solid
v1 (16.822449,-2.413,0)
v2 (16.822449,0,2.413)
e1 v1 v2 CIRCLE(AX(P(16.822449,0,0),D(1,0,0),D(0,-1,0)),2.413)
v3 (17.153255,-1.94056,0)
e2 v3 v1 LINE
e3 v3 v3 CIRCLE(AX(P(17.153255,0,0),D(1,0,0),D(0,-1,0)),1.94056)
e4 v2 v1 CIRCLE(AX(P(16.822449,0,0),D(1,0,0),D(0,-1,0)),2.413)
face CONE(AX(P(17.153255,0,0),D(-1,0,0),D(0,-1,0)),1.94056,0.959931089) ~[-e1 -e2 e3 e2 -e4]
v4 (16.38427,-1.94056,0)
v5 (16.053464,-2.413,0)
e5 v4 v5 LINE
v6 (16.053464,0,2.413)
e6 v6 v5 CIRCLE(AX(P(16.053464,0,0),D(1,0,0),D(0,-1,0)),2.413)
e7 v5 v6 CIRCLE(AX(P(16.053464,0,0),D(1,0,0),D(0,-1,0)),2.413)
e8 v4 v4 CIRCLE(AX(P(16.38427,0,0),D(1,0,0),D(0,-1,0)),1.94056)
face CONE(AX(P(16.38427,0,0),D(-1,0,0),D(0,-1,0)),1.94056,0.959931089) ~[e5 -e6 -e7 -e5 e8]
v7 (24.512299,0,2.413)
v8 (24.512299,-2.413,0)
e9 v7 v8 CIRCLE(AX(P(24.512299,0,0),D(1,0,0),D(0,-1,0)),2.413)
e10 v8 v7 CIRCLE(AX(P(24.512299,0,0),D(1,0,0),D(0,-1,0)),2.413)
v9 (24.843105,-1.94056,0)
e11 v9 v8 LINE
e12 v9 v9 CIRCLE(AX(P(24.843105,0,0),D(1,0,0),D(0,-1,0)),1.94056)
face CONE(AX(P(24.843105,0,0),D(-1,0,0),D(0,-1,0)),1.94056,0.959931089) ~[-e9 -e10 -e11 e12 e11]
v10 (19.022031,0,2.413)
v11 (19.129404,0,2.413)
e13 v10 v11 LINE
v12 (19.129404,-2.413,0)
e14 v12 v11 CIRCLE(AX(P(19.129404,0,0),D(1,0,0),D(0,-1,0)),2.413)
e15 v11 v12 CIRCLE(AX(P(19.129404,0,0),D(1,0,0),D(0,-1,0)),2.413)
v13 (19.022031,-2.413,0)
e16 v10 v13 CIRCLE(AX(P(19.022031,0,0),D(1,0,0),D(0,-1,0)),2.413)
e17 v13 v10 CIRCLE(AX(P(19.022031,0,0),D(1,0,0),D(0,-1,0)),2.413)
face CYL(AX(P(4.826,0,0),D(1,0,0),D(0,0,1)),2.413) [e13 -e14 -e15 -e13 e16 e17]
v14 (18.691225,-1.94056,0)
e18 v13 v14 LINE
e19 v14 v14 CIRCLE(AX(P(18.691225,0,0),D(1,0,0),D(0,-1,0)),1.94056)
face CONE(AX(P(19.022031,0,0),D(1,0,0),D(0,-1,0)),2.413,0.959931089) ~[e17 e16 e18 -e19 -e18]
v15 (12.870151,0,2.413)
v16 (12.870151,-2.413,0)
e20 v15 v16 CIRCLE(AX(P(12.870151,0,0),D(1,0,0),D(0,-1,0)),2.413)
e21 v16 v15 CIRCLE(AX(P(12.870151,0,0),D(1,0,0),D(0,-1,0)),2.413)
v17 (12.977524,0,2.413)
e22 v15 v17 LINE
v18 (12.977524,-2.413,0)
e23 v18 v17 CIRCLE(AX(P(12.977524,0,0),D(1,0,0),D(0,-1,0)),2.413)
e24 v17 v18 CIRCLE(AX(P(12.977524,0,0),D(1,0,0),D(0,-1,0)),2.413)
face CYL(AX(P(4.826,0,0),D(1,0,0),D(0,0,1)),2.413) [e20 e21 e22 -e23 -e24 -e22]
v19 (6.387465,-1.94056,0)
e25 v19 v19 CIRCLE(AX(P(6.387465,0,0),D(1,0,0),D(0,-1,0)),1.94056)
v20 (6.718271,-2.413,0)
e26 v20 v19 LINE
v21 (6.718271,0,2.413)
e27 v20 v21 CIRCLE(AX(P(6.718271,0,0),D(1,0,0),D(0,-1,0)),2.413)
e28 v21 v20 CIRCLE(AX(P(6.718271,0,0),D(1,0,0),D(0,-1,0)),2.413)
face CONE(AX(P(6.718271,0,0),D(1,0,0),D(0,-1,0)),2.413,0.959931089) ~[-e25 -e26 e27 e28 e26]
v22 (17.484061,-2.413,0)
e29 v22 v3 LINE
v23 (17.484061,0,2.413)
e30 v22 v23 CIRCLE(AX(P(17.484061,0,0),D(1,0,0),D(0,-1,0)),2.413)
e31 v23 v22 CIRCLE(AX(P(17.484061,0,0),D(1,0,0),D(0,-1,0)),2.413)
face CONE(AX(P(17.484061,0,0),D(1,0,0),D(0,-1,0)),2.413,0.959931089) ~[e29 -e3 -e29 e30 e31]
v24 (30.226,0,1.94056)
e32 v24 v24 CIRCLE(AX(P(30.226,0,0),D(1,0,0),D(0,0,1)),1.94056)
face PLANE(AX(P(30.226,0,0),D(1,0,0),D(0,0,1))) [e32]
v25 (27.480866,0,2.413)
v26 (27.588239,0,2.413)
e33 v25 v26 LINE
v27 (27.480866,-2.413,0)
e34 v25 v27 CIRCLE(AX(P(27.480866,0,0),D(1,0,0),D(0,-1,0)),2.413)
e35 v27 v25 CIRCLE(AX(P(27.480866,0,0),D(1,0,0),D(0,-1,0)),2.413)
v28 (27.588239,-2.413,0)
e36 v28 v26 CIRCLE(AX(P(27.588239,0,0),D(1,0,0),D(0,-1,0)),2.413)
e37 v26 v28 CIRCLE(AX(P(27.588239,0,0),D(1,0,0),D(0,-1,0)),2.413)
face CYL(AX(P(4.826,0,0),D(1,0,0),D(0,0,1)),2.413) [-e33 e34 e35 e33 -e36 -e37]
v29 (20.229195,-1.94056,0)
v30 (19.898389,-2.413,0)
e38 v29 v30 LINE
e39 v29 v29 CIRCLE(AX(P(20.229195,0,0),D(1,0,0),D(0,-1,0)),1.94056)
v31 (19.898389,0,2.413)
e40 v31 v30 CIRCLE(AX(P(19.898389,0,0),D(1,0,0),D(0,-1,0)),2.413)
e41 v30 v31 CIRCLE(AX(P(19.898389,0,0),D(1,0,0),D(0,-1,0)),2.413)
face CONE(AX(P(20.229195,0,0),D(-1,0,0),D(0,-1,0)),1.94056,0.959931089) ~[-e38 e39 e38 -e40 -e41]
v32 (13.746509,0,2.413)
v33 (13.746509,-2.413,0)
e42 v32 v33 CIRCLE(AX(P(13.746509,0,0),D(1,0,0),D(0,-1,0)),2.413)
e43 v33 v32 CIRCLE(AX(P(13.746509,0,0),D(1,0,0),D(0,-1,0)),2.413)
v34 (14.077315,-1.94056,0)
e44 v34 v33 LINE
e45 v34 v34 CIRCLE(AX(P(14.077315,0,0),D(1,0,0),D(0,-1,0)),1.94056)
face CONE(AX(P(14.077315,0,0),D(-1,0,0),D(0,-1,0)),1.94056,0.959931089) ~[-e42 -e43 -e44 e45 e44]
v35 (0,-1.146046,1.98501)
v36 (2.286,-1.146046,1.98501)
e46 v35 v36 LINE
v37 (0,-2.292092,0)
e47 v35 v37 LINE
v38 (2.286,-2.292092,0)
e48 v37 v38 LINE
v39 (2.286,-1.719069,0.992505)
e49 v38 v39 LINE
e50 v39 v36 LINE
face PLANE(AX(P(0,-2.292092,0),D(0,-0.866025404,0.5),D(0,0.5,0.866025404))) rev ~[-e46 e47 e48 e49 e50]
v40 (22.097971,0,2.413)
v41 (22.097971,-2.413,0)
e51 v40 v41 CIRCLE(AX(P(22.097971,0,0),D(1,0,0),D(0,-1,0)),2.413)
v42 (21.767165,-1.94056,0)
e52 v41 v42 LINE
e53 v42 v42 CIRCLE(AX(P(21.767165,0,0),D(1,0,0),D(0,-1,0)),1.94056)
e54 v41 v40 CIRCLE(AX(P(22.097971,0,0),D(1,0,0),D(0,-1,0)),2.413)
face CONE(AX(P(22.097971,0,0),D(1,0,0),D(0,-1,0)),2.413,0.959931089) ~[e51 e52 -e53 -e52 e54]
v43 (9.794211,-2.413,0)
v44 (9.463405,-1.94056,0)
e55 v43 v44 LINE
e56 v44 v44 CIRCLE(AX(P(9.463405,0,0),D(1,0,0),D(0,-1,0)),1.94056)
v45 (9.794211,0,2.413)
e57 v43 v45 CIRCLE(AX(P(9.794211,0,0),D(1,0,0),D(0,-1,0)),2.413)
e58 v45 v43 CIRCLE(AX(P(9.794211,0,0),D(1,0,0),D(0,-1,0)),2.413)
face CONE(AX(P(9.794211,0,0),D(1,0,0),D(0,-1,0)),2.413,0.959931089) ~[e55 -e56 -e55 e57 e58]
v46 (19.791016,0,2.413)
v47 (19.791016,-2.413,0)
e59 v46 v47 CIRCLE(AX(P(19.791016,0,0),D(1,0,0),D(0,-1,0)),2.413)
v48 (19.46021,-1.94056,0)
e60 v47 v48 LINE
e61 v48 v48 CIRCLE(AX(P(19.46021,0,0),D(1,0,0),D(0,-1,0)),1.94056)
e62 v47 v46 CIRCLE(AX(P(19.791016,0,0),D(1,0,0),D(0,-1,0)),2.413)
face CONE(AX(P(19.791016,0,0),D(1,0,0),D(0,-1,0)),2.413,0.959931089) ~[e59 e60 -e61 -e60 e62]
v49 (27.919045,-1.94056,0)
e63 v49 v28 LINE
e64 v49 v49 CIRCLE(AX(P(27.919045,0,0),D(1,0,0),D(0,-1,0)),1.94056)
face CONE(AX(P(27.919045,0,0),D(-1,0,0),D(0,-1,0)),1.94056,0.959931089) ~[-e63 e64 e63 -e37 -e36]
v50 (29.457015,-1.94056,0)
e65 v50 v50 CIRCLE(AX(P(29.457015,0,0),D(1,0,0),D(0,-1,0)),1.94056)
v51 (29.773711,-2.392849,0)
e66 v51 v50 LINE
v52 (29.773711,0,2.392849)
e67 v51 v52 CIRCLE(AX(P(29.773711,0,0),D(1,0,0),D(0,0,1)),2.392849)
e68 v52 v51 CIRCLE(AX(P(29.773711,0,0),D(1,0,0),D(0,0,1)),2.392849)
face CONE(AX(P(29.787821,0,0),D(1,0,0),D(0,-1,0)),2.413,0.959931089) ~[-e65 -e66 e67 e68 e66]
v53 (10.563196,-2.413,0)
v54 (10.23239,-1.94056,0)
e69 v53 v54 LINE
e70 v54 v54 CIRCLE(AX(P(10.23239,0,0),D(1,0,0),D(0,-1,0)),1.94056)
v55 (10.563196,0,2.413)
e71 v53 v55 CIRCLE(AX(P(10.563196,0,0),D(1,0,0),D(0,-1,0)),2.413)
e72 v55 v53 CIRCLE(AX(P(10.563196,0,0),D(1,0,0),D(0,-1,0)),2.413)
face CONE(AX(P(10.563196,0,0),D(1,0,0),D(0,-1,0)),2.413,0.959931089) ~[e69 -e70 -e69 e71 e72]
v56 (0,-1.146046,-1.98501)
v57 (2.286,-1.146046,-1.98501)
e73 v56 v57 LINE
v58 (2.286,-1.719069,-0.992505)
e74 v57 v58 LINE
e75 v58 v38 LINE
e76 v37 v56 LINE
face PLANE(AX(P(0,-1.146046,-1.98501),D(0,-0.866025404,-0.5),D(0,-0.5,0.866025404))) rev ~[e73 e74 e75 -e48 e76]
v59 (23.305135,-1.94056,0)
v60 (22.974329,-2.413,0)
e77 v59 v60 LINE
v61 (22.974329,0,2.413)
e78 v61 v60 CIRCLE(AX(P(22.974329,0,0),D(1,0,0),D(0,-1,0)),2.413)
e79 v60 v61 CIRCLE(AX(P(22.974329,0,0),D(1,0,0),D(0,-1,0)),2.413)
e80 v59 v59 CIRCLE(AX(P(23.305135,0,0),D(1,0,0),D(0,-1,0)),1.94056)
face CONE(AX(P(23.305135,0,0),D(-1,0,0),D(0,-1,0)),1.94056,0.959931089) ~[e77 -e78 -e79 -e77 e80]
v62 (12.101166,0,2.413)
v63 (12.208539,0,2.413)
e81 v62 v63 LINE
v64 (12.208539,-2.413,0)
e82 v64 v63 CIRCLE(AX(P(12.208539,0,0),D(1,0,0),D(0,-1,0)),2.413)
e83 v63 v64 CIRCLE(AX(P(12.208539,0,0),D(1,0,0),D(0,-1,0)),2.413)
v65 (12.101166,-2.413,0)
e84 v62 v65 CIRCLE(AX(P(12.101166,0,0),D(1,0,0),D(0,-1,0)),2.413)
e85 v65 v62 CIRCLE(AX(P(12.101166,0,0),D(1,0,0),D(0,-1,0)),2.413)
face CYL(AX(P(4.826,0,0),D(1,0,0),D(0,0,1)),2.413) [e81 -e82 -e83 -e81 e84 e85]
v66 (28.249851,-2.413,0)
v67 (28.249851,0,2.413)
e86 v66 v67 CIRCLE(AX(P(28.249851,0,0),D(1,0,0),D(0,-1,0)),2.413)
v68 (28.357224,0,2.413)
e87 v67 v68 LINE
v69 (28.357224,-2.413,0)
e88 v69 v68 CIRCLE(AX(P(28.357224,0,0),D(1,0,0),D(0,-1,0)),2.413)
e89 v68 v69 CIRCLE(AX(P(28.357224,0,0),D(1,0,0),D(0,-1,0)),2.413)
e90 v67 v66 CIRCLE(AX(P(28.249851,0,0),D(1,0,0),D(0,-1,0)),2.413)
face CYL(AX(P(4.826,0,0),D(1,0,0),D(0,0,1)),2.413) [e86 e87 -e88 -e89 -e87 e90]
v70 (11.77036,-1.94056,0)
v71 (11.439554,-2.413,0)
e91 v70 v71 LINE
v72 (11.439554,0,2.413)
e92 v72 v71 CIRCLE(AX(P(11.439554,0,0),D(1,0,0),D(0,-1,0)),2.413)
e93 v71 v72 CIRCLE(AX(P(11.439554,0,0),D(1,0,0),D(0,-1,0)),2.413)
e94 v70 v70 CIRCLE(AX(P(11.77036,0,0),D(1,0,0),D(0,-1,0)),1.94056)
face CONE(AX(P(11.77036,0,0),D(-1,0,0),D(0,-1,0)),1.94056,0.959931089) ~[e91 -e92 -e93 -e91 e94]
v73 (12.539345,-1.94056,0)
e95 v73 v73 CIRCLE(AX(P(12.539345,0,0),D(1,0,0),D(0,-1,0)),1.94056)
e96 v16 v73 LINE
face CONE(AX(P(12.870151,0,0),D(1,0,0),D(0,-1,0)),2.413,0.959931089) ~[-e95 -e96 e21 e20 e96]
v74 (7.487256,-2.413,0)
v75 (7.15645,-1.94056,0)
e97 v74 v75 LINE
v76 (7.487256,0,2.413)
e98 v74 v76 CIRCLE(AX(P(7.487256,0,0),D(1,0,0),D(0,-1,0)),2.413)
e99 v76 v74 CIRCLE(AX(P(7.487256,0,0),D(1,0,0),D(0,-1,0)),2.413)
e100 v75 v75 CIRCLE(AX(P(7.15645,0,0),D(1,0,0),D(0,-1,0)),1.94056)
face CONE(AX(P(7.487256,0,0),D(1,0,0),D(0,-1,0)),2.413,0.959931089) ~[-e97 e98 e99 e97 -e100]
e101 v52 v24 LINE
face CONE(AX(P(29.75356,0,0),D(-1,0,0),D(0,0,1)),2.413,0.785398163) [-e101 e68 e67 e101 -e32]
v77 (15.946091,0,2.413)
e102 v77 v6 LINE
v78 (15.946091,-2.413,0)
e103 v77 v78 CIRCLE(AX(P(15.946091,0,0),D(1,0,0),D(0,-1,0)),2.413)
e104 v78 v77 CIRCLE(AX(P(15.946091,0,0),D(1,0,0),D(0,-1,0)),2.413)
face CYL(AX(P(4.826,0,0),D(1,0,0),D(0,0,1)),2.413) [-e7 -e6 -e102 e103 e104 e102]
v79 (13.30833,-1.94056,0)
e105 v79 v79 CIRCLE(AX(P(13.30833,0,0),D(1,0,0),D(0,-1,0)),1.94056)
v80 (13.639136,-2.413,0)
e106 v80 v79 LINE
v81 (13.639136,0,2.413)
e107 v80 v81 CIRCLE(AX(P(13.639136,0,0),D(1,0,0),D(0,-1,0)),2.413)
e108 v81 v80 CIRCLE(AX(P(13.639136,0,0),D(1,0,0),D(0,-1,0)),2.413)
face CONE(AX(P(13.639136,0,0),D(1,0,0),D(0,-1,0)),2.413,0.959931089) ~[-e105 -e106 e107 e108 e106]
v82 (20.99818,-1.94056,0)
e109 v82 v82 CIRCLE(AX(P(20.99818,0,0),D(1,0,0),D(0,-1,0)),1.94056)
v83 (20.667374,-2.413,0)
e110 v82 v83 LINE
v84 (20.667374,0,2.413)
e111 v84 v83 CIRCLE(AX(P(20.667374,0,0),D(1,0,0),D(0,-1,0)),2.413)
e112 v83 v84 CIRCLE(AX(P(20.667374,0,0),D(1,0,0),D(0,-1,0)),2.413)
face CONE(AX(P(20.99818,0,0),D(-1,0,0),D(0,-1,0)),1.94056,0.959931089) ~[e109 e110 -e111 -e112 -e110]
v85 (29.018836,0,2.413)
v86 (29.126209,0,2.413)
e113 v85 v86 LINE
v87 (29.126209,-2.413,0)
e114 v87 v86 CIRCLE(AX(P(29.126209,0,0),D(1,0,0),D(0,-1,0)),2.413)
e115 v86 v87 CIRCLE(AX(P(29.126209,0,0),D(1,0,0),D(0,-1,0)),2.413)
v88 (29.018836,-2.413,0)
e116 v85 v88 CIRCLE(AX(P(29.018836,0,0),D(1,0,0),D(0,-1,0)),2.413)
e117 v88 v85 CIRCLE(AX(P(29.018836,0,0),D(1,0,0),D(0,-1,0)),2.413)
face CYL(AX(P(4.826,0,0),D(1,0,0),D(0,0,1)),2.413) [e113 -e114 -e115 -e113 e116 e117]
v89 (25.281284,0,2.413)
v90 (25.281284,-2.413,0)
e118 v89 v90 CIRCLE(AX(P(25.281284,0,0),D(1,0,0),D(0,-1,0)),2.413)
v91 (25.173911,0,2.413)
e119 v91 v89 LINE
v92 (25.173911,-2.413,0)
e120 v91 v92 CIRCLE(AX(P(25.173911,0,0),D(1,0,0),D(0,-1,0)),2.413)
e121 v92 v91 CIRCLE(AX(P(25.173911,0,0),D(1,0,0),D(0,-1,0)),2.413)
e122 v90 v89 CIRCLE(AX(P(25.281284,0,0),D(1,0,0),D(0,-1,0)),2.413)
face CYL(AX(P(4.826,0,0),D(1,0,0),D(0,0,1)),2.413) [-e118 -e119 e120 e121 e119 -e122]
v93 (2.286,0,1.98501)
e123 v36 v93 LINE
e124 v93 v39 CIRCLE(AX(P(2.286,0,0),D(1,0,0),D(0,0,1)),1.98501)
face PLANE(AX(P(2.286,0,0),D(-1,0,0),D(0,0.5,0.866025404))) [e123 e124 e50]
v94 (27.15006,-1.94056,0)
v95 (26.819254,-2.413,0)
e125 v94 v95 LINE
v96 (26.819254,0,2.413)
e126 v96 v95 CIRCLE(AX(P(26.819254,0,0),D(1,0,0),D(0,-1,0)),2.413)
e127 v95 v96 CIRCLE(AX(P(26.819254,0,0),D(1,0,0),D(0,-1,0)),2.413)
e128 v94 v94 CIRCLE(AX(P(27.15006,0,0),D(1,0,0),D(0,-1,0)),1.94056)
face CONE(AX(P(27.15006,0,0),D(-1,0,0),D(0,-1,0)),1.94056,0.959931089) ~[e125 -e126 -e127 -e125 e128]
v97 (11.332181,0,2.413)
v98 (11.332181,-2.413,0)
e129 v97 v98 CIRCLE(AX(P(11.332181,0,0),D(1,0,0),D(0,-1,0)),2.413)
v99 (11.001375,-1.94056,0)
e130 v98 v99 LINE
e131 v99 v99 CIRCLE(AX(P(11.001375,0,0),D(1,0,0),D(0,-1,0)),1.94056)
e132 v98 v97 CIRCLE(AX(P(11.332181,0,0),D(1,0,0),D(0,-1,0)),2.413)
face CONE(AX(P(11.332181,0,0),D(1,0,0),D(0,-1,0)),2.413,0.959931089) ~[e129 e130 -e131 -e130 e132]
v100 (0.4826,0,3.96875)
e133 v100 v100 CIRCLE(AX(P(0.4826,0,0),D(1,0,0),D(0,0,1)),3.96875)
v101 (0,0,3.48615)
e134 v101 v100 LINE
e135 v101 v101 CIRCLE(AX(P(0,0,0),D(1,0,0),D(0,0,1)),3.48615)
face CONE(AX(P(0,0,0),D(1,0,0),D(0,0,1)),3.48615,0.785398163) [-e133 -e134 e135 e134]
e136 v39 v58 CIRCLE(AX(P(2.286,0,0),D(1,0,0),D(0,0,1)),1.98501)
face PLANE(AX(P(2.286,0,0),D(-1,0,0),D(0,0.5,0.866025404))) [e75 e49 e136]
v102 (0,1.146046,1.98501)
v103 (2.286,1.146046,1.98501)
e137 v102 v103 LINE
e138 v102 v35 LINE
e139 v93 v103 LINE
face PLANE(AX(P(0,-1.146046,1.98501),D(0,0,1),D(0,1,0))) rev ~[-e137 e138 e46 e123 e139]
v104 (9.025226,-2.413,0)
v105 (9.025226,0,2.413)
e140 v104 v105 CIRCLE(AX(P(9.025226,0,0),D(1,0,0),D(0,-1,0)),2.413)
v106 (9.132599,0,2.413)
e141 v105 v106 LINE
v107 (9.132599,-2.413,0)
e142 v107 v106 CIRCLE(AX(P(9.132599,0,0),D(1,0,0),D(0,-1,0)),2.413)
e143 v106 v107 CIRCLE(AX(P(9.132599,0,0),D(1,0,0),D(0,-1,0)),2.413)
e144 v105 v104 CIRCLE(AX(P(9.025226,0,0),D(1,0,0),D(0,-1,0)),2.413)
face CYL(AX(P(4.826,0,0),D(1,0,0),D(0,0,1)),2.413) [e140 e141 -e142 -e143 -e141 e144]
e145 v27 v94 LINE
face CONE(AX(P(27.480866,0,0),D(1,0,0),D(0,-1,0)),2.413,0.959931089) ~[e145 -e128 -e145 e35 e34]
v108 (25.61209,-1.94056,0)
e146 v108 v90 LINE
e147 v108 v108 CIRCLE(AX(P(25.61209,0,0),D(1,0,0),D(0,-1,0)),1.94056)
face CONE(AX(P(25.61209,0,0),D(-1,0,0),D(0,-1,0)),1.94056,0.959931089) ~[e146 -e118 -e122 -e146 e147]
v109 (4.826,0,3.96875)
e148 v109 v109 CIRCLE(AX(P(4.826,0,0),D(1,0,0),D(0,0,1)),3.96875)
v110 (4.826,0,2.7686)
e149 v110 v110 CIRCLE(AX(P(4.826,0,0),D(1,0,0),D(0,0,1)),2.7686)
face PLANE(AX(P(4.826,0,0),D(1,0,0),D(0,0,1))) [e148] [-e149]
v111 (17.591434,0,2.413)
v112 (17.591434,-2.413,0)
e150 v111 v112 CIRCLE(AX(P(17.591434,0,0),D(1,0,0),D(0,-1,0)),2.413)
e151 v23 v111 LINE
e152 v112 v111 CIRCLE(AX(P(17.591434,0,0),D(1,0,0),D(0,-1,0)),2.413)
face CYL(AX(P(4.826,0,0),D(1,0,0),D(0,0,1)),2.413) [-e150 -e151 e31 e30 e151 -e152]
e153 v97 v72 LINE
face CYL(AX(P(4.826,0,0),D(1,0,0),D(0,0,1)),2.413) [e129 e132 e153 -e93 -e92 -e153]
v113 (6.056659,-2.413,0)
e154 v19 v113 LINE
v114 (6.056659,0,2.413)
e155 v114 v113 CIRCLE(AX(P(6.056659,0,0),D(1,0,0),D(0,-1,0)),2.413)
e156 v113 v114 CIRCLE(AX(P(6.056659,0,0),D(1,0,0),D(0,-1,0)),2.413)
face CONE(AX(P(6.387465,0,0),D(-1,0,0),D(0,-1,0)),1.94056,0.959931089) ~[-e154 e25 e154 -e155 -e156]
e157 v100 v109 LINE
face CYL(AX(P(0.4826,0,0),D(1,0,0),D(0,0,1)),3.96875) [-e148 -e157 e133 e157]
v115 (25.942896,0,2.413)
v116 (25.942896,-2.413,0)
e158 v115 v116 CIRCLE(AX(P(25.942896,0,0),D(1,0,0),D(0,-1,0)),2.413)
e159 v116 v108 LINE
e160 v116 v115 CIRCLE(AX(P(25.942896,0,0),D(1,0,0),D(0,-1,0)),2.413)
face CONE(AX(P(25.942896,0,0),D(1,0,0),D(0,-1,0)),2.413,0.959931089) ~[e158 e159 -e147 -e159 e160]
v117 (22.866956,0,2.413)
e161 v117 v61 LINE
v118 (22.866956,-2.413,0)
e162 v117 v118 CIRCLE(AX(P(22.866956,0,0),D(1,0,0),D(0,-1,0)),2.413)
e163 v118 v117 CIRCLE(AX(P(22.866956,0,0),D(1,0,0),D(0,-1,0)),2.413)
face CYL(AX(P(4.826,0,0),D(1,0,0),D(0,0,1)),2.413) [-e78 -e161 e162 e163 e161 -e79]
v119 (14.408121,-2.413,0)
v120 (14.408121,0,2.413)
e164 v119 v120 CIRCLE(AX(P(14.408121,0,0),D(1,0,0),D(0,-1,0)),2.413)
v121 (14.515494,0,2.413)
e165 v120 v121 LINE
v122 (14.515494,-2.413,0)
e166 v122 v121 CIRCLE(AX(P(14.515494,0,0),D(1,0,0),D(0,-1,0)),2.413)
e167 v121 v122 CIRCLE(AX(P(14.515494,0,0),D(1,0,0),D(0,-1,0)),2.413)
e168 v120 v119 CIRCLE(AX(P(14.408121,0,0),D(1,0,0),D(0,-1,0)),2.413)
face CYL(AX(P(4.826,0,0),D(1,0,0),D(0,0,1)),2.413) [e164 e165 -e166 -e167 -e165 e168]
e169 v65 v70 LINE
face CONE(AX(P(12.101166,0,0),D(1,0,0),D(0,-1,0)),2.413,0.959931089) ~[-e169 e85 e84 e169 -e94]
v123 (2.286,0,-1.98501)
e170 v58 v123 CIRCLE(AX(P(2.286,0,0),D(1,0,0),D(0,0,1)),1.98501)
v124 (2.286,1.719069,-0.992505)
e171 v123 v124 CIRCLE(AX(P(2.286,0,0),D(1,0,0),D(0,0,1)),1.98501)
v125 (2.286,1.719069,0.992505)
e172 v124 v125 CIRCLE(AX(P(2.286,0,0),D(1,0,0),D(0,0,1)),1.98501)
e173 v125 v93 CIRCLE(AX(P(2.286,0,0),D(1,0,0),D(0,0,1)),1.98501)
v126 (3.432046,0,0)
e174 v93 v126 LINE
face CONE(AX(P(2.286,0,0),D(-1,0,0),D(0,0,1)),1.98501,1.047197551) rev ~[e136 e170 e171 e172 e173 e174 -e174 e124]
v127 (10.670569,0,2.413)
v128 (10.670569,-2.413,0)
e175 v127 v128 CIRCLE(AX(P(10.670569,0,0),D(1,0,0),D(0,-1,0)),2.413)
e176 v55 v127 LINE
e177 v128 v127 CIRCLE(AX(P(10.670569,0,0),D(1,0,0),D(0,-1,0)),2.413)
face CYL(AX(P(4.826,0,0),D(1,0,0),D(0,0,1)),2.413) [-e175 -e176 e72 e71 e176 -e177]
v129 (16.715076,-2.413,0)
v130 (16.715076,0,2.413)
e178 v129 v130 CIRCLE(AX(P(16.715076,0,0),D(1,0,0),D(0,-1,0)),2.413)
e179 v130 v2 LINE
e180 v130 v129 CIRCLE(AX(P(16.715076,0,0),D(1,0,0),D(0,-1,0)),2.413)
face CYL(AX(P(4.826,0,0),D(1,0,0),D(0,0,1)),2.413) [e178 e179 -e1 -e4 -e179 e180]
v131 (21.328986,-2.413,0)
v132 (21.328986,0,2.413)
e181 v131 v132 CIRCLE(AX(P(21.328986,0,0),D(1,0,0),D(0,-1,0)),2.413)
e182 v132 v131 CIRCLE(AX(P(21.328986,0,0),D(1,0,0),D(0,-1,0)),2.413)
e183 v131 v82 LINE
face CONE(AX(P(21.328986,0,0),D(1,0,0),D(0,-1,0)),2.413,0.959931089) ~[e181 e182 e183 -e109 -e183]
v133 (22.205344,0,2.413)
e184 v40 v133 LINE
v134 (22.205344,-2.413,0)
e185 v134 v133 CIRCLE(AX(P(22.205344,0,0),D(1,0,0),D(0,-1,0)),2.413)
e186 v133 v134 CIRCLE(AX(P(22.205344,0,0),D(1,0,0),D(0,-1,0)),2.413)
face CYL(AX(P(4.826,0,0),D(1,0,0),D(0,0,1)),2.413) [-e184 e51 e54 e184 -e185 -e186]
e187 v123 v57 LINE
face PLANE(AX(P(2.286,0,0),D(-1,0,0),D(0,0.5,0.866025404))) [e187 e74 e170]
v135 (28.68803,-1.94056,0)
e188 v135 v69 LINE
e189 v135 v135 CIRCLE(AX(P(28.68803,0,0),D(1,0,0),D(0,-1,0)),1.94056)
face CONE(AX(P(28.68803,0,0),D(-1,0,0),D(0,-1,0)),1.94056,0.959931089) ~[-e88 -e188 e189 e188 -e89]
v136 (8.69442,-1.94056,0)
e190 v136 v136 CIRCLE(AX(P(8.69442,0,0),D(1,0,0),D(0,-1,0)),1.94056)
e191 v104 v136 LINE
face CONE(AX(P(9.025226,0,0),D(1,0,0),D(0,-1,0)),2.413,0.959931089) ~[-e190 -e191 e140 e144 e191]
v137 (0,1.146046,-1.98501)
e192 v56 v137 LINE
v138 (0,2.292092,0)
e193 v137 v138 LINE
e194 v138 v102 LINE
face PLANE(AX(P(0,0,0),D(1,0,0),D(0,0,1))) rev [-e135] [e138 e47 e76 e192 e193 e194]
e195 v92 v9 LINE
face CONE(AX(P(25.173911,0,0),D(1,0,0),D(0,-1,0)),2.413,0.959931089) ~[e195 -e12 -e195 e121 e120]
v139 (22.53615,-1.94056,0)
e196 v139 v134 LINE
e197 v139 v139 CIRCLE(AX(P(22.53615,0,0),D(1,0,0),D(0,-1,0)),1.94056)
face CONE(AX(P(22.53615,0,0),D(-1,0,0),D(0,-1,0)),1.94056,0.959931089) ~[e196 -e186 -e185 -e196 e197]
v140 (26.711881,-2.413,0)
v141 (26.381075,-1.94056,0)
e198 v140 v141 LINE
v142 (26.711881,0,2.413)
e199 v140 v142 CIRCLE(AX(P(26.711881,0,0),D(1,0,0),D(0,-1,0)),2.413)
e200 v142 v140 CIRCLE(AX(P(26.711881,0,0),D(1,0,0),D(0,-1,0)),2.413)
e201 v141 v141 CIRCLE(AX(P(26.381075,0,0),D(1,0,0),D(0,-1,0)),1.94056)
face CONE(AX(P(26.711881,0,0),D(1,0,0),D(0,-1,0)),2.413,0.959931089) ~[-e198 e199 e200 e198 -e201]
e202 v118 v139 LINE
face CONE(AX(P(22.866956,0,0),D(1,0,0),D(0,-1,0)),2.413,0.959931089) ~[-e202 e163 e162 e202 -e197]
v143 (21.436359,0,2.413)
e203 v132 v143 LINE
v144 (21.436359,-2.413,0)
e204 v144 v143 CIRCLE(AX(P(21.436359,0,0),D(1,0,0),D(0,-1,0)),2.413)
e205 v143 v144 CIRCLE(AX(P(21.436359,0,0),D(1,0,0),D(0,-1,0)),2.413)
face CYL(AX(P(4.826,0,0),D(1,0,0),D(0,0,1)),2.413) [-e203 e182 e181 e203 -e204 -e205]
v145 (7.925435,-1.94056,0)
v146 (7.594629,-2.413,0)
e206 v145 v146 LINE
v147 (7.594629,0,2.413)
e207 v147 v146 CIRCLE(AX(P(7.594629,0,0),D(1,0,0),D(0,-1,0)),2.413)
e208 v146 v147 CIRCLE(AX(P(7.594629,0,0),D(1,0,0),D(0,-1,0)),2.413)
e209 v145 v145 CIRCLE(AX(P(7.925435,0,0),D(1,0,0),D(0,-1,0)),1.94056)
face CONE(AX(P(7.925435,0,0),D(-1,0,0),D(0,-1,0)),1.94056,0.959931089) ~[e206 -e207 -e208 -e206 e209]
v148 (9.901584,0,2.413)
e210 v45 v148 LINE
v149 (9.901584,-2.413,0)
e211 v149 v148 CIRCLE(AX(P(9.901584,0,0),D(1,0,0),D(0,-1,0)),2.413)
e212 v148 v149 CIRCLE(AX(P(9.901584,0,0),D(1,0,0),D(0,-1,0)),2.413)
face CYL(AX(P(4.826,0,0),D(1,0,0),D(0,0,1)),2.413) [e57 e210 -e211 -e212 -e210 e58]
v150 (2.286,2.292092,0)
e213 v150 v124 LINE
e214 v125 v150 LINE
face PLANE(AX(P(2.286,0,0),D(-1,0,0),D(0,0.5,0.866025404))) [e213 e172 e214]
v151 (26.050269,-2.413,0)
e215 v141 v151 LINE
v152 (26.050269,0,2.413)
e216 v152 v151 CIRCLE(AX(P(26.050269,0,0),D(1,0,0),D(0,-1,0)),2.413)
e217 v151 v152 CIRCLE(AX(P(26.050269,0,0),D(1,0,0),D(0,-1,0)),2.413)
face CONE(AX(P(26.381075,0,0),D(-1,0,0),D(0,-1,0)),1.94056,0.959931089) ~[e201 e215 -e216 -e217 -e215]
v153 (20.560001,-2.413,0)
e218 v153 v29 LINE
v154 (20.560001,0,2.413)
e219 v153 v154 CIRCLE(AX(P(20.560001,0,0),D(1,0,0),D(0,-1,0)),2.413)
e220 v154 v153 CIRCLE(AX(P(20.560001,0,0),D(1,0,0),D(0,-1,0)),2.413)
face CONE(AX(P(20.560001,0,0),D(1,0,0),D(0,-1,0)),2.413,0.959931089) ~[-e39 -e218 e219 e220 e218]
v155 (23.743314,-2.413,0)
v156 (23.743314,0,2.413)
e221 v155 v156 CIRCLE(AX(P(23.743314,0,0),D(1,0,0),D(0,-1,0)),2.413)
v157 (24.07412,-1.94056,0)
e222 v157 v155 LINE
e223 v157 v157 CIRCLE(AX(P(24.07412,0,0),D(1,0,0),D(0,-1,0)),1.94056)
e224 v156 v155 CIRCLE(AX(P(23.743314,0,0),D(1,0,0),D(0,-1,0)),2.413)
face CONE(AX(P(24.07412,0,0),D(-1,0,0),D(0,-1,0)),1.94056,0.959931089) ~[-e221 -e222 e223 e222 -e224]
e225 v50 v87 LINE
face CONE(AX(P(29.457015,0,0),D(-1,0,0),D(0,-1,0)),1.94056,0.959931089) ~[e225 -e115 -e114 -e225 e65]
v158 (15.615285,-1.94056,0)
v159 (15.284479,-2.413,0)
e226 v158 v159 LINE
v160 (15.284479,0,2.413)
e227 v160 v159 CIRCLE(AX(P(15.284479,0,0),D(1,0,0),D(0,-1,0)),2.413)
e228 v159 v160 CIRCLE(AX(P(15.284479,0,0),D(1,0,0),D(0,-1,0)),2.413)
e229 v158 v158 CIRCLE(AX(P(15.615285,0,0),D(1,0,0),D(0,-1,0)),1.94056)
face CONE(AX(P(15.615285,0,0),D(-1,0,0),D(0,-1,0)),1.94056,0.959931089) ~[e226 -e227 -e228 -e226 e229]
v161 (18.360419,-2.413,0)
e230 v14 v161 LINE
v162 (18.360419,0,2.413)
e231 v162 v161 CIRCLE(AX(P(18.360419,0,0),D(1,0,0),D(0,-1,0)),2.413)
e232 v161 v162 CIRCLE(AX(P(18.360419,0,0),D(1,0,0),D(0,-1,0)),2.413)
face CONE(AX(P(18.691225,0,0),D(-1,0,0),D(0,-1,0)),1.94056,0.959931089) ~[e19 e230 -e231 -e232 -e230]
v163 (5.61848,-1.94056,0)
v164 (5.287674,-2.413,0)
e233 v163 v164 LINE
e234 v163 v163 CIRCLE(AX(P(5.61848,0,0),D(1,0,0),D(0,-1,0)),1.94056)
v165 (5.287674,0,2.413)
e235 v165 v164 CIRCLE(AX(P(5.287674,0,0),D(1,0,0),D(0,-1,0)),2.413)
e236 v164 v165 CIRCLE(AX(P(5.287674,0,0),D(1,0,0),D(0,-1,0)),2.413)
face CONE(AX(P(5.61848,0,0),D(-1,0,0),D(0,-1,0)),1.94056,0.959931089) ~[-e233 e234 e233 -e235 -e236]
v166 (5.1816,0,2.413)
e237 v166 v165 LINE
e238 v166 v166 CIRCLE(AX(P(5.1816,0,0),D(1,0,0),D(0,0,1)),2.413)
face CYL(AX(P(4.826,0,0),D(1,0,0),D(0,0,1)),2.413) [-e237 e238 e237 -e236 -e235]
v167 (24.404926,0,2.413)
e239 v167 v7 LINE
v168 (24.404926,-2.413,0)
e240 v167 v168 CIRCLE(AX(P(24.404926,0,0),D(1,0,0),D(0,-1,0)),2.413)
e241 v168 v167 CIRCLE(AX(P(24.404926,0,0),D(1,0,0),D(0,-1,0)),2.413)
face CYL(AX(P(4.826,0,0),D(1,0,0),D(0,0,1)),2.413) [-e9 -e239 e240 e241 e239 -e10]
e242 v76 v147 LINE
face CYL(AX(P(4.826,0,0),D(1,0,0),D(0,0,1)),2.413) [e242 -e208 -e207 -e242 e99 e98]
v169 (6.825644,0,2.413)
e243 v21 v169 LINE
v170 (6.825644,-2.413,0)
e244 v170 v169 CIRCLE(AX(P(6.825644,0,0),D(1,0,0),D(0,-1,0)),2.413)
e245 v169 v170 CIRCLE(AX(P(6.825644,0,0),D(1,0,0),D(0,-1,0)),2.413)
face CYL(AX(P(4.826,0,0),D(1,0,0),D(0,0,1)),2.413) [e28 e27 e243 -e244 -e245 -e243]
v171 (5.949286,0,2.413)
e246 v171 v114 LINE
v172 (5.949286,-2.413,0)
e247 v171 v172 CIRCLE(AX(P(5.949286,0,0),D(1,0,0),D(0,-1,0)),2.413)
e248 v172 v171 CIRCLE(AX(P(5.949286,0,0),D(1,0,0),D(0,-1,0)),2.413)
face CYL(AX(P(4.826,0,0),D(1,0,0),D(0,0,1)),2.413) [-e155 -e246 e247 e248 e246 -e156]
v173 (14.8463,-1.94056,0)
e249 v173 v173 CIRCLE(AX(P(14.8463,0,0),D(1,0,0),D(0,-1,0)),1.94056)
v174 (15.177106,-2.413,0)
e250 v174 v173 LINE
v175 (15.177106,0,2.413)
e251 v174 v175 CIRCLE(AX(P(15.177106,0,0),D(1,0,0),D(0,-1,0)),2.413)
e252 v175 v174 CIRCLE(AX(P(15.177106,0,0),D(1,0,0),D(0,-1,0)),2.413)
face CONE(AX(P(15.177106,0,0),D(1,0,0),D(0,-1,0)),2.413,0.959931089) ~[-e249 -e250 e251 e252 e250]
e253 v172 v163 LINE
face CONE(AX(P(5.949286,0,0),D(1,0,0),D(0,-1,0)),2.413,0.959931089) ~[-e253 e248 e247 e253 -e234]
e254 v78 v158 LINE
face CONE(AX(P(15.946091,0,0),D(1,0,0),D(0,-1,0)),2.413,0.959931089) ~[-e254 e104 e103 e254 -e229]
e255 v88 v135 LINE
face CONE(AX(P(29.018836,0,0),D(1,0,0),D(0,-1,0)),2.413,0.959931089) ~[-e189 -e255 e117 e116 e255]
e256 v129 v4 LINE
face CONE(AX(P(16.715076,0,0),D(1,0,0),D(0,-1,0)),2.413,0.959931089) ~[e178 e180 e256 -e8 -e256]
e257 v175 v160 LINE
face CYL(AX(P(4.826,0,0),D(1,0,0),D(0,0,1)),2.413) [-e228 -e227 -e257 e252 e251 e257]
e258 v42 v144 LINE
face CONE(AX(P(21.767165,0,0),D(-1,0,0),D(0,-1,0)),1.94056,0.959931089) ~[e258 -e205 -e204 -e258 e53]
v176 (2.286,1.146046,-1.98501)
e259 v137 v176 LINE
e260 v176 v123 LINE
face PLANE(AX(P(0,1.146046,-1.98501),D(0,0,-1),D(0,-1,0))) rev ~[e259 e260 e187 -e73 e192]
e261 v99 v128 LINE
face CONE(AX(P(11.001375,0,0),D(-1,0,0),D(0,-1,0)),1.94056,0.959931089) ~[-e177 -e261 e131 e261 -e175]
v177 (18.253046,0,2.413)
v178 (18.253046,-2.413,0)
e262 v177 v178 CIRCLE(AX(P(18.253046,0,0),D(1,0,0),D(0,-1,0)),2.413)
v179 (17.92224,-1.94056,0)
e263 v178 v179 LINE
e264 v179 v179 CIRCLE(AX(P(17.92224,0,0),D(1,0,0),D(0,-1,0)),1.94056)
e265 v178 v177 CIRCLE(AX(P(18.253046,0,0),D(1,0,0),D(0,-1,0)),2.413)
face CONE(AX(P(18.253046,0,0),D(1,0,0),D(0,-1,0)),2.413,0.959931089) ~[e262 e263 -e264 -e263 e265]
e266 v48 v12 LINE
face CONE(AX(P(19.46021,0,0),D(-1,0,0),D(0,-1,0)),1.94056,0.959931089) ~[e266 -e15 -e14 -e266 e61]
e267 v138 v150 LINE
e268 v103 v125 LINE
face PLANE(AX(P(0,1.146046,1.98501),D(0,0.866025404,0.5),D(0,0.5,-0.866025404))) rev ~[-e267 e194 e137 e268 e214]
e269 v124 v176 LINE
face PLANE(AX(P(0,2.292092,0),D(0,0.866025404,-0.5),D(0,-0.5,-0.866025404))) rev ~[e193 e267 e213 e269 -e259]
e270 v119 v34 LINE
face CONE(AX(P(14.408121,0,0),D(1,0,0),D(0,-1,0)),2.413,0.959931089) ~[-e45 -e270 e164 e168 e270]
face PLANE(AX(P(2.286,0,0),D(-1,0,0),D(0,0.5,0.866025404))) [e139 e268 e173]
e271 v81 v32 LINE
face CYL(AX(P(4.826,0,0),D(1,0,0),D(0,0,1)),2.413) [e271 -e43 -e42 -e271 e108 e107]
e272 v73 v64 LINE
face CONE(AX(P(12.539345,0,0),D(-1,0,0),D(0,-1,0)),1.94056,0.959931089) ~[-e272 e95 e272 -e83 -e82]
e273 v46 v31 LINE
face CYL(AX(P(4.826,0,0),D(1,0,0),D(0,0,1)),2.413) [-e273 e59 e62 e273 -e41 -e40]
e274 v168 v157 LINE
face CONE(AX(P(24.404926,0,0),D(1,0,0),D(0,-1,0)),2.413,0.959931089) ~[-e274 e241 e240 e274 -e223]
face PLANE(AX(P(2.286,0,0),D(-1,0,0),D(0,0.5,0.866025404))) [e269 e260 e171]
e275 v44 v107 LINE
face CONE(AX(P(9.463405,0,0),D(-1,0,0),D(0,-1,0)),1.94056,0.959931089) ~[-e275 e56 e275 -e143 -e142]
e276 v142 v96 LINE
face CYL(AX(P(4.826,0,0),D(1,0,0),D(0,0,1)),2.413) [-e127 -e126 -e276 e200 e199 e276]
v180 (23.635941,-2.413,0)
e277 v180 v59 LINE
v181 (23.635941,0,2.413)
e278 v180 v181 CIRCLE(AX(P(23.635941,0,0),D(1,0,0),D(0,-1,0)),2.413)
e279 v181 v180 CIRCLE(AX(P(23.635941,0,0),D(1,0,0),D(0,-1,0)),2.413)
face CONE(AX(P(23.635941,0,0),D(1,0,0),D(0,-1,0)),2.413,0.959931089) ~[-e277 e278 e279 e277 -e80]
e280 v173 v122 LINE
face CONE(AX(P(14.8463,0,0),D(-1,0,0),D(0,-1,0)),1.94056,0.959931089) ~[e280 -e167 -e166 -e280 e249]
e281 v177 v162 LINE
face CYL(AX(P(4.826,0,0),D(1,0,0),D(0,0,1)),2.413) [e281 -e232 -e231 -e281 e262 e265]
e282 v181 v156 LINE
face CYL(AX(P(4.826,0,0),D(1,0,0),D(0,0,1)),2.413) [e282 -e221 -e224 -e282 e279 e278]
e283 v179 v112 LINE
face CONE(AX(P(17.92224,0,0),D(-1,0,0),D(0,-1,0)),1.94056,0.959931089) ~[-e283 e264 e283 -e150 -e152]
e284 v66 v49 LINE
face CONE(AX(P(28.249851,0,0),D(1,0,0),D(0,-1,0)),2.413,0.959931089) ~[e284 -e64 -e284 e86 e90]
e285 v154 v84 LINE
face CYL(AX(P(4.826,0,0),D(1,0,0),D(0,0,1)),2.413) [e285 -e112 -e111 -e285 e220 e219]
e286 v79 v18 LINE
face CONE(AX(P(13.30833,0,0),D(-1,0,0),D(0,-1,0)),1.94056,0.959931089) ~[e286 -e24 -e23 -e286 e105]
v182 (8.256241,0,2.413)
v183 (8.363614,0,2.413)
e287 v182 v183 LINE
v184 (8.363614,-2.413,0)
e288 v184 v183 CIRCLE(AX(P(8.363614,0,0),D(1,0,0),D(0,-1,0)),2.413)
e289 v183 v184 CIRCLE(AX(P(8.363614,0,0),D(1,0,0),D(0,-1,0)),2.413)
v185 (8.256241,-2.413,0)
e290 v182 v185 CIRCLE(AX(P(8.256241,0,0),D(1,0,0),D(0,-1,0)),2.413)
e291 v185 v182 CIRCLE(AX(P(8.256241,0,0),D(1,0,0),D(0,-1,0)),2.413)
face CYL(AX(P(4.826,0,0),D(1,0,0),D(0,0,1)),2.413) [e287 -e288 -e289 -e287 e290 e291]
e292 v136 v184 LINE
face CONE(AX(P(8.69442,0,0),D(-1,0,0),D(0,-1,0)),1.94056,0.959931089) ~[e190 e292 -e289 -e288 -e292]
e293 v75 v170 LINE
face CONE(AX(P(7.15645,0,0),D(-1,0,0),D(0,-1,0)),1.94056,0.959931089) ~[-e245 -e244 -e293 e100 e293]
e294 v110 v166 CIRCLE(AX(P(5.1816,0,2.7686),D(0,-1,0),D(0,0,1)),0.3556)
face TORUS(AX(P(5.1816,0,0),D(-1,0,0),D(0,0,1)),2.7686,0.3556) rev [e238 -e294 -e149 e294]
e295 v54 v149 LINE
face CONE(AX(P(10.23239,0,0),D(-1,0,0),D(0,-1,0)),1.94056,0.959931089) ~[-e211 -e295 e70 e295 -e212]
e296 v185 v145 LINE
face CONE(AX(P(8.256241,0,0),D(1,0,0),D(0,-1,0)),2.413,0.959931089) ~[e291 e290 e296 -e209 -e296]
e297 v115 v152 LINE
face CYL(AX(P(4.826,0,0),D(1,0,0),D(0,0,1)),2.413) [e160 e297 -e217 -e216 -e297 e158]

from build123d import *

# Parameters (mm, degrees)
FILLET1_R       = 0.3556
HEX_2_DEPTH     = 2.286
THDSCHPAT_COUNT = 32
THDSCHPAT_PITCH = 0.768985


with BuildPart() as part:
    # BodySke → Base-Revolve (revolve)
    with BuildSketch(Plane.XY, mode=Mode.PRIVATE) as base_revolve_sk:
        Polygon((0, 0), (0, 3.48615), (0.4826, 3.96875), (4.826, 3.96875), (4.826, 2.413), (29.75356, 2.413), (30.226, 1.94056), (30.226, 0), align=None)
    revolve(base_revolve_sk.sketch.rotate(Axis((-31.75, 0, 0), (1, 0, 0)), 90), axis=Axis((-31.75, 0, 0), (1, 0, 0)))

    # Fillet1
    fillet1_edges = [part.edges().sort_by_distance(p)[0] for p in [
        (4.826, 0, -2.413),
    ]]
    fillet(fillet1_edges, radius=FILLET1_R)

    # Sketch2 → Hex-PreBroach (revolve, cut)
    with BuildSketch(Plane.XY, mode=Mode.PRIVATE) as hex_prebroach_sk:
        Polygon((0, 1.98501), (2.286, 1.98501), (3.432046058, 0), (0, 0), align=None)
    revolve(hex_prebroach_sk.sketch.rotate(Axis((0, 0, 0), (1, 0, 0)), 90), axis=Axis((0, 0, 0), (1, 0, 0)), mode=Mode.SUBTRACT)

    # Sketch3 → Hex 2 (cut)
    with BuildSketch(Plane(origin=(0, 0, 0), x_dir=(0, 0.500000000000001, 0.866025403784438), z_dir=(-1, 0, 0))):
        Polygon((1.146046058, 1.98501), (-1.146046058, 1.98501), (-2.292092116, 0), (-1.146046058, -1.98501), (1.146046058, -1.98501), (2.292092116, 0), align=None)
    extrude(amount=-HEX_2_DEPTH, mode=Mode.SUBTRACT)

    # ThdSchSke → ThreadSchematic (revolve, cut)
    with BuildSketch(Plane.XY):
        Polygon((5.61848, -1.94056), (5.287673951, -2.413), (5.287673951, -3.01625), (5.949286049, -3.01625), (5.949286049, -2.413), align=None)
    threadschematic = revolve(axis=Axis((-3.175, 0, 0), (1, 0, 0)), mode=Mode.SUBTRACT)

    # ThdSchPat: ThreadSchematic ×32
    with Locations(*[(i * THDSCHPAT_PITCH, 0, 0) for i in range(1, THDSCHPAT_COUNT)]):
        add(threadschematic, mode=Mode.SUBTRACT)


solid = part.part
